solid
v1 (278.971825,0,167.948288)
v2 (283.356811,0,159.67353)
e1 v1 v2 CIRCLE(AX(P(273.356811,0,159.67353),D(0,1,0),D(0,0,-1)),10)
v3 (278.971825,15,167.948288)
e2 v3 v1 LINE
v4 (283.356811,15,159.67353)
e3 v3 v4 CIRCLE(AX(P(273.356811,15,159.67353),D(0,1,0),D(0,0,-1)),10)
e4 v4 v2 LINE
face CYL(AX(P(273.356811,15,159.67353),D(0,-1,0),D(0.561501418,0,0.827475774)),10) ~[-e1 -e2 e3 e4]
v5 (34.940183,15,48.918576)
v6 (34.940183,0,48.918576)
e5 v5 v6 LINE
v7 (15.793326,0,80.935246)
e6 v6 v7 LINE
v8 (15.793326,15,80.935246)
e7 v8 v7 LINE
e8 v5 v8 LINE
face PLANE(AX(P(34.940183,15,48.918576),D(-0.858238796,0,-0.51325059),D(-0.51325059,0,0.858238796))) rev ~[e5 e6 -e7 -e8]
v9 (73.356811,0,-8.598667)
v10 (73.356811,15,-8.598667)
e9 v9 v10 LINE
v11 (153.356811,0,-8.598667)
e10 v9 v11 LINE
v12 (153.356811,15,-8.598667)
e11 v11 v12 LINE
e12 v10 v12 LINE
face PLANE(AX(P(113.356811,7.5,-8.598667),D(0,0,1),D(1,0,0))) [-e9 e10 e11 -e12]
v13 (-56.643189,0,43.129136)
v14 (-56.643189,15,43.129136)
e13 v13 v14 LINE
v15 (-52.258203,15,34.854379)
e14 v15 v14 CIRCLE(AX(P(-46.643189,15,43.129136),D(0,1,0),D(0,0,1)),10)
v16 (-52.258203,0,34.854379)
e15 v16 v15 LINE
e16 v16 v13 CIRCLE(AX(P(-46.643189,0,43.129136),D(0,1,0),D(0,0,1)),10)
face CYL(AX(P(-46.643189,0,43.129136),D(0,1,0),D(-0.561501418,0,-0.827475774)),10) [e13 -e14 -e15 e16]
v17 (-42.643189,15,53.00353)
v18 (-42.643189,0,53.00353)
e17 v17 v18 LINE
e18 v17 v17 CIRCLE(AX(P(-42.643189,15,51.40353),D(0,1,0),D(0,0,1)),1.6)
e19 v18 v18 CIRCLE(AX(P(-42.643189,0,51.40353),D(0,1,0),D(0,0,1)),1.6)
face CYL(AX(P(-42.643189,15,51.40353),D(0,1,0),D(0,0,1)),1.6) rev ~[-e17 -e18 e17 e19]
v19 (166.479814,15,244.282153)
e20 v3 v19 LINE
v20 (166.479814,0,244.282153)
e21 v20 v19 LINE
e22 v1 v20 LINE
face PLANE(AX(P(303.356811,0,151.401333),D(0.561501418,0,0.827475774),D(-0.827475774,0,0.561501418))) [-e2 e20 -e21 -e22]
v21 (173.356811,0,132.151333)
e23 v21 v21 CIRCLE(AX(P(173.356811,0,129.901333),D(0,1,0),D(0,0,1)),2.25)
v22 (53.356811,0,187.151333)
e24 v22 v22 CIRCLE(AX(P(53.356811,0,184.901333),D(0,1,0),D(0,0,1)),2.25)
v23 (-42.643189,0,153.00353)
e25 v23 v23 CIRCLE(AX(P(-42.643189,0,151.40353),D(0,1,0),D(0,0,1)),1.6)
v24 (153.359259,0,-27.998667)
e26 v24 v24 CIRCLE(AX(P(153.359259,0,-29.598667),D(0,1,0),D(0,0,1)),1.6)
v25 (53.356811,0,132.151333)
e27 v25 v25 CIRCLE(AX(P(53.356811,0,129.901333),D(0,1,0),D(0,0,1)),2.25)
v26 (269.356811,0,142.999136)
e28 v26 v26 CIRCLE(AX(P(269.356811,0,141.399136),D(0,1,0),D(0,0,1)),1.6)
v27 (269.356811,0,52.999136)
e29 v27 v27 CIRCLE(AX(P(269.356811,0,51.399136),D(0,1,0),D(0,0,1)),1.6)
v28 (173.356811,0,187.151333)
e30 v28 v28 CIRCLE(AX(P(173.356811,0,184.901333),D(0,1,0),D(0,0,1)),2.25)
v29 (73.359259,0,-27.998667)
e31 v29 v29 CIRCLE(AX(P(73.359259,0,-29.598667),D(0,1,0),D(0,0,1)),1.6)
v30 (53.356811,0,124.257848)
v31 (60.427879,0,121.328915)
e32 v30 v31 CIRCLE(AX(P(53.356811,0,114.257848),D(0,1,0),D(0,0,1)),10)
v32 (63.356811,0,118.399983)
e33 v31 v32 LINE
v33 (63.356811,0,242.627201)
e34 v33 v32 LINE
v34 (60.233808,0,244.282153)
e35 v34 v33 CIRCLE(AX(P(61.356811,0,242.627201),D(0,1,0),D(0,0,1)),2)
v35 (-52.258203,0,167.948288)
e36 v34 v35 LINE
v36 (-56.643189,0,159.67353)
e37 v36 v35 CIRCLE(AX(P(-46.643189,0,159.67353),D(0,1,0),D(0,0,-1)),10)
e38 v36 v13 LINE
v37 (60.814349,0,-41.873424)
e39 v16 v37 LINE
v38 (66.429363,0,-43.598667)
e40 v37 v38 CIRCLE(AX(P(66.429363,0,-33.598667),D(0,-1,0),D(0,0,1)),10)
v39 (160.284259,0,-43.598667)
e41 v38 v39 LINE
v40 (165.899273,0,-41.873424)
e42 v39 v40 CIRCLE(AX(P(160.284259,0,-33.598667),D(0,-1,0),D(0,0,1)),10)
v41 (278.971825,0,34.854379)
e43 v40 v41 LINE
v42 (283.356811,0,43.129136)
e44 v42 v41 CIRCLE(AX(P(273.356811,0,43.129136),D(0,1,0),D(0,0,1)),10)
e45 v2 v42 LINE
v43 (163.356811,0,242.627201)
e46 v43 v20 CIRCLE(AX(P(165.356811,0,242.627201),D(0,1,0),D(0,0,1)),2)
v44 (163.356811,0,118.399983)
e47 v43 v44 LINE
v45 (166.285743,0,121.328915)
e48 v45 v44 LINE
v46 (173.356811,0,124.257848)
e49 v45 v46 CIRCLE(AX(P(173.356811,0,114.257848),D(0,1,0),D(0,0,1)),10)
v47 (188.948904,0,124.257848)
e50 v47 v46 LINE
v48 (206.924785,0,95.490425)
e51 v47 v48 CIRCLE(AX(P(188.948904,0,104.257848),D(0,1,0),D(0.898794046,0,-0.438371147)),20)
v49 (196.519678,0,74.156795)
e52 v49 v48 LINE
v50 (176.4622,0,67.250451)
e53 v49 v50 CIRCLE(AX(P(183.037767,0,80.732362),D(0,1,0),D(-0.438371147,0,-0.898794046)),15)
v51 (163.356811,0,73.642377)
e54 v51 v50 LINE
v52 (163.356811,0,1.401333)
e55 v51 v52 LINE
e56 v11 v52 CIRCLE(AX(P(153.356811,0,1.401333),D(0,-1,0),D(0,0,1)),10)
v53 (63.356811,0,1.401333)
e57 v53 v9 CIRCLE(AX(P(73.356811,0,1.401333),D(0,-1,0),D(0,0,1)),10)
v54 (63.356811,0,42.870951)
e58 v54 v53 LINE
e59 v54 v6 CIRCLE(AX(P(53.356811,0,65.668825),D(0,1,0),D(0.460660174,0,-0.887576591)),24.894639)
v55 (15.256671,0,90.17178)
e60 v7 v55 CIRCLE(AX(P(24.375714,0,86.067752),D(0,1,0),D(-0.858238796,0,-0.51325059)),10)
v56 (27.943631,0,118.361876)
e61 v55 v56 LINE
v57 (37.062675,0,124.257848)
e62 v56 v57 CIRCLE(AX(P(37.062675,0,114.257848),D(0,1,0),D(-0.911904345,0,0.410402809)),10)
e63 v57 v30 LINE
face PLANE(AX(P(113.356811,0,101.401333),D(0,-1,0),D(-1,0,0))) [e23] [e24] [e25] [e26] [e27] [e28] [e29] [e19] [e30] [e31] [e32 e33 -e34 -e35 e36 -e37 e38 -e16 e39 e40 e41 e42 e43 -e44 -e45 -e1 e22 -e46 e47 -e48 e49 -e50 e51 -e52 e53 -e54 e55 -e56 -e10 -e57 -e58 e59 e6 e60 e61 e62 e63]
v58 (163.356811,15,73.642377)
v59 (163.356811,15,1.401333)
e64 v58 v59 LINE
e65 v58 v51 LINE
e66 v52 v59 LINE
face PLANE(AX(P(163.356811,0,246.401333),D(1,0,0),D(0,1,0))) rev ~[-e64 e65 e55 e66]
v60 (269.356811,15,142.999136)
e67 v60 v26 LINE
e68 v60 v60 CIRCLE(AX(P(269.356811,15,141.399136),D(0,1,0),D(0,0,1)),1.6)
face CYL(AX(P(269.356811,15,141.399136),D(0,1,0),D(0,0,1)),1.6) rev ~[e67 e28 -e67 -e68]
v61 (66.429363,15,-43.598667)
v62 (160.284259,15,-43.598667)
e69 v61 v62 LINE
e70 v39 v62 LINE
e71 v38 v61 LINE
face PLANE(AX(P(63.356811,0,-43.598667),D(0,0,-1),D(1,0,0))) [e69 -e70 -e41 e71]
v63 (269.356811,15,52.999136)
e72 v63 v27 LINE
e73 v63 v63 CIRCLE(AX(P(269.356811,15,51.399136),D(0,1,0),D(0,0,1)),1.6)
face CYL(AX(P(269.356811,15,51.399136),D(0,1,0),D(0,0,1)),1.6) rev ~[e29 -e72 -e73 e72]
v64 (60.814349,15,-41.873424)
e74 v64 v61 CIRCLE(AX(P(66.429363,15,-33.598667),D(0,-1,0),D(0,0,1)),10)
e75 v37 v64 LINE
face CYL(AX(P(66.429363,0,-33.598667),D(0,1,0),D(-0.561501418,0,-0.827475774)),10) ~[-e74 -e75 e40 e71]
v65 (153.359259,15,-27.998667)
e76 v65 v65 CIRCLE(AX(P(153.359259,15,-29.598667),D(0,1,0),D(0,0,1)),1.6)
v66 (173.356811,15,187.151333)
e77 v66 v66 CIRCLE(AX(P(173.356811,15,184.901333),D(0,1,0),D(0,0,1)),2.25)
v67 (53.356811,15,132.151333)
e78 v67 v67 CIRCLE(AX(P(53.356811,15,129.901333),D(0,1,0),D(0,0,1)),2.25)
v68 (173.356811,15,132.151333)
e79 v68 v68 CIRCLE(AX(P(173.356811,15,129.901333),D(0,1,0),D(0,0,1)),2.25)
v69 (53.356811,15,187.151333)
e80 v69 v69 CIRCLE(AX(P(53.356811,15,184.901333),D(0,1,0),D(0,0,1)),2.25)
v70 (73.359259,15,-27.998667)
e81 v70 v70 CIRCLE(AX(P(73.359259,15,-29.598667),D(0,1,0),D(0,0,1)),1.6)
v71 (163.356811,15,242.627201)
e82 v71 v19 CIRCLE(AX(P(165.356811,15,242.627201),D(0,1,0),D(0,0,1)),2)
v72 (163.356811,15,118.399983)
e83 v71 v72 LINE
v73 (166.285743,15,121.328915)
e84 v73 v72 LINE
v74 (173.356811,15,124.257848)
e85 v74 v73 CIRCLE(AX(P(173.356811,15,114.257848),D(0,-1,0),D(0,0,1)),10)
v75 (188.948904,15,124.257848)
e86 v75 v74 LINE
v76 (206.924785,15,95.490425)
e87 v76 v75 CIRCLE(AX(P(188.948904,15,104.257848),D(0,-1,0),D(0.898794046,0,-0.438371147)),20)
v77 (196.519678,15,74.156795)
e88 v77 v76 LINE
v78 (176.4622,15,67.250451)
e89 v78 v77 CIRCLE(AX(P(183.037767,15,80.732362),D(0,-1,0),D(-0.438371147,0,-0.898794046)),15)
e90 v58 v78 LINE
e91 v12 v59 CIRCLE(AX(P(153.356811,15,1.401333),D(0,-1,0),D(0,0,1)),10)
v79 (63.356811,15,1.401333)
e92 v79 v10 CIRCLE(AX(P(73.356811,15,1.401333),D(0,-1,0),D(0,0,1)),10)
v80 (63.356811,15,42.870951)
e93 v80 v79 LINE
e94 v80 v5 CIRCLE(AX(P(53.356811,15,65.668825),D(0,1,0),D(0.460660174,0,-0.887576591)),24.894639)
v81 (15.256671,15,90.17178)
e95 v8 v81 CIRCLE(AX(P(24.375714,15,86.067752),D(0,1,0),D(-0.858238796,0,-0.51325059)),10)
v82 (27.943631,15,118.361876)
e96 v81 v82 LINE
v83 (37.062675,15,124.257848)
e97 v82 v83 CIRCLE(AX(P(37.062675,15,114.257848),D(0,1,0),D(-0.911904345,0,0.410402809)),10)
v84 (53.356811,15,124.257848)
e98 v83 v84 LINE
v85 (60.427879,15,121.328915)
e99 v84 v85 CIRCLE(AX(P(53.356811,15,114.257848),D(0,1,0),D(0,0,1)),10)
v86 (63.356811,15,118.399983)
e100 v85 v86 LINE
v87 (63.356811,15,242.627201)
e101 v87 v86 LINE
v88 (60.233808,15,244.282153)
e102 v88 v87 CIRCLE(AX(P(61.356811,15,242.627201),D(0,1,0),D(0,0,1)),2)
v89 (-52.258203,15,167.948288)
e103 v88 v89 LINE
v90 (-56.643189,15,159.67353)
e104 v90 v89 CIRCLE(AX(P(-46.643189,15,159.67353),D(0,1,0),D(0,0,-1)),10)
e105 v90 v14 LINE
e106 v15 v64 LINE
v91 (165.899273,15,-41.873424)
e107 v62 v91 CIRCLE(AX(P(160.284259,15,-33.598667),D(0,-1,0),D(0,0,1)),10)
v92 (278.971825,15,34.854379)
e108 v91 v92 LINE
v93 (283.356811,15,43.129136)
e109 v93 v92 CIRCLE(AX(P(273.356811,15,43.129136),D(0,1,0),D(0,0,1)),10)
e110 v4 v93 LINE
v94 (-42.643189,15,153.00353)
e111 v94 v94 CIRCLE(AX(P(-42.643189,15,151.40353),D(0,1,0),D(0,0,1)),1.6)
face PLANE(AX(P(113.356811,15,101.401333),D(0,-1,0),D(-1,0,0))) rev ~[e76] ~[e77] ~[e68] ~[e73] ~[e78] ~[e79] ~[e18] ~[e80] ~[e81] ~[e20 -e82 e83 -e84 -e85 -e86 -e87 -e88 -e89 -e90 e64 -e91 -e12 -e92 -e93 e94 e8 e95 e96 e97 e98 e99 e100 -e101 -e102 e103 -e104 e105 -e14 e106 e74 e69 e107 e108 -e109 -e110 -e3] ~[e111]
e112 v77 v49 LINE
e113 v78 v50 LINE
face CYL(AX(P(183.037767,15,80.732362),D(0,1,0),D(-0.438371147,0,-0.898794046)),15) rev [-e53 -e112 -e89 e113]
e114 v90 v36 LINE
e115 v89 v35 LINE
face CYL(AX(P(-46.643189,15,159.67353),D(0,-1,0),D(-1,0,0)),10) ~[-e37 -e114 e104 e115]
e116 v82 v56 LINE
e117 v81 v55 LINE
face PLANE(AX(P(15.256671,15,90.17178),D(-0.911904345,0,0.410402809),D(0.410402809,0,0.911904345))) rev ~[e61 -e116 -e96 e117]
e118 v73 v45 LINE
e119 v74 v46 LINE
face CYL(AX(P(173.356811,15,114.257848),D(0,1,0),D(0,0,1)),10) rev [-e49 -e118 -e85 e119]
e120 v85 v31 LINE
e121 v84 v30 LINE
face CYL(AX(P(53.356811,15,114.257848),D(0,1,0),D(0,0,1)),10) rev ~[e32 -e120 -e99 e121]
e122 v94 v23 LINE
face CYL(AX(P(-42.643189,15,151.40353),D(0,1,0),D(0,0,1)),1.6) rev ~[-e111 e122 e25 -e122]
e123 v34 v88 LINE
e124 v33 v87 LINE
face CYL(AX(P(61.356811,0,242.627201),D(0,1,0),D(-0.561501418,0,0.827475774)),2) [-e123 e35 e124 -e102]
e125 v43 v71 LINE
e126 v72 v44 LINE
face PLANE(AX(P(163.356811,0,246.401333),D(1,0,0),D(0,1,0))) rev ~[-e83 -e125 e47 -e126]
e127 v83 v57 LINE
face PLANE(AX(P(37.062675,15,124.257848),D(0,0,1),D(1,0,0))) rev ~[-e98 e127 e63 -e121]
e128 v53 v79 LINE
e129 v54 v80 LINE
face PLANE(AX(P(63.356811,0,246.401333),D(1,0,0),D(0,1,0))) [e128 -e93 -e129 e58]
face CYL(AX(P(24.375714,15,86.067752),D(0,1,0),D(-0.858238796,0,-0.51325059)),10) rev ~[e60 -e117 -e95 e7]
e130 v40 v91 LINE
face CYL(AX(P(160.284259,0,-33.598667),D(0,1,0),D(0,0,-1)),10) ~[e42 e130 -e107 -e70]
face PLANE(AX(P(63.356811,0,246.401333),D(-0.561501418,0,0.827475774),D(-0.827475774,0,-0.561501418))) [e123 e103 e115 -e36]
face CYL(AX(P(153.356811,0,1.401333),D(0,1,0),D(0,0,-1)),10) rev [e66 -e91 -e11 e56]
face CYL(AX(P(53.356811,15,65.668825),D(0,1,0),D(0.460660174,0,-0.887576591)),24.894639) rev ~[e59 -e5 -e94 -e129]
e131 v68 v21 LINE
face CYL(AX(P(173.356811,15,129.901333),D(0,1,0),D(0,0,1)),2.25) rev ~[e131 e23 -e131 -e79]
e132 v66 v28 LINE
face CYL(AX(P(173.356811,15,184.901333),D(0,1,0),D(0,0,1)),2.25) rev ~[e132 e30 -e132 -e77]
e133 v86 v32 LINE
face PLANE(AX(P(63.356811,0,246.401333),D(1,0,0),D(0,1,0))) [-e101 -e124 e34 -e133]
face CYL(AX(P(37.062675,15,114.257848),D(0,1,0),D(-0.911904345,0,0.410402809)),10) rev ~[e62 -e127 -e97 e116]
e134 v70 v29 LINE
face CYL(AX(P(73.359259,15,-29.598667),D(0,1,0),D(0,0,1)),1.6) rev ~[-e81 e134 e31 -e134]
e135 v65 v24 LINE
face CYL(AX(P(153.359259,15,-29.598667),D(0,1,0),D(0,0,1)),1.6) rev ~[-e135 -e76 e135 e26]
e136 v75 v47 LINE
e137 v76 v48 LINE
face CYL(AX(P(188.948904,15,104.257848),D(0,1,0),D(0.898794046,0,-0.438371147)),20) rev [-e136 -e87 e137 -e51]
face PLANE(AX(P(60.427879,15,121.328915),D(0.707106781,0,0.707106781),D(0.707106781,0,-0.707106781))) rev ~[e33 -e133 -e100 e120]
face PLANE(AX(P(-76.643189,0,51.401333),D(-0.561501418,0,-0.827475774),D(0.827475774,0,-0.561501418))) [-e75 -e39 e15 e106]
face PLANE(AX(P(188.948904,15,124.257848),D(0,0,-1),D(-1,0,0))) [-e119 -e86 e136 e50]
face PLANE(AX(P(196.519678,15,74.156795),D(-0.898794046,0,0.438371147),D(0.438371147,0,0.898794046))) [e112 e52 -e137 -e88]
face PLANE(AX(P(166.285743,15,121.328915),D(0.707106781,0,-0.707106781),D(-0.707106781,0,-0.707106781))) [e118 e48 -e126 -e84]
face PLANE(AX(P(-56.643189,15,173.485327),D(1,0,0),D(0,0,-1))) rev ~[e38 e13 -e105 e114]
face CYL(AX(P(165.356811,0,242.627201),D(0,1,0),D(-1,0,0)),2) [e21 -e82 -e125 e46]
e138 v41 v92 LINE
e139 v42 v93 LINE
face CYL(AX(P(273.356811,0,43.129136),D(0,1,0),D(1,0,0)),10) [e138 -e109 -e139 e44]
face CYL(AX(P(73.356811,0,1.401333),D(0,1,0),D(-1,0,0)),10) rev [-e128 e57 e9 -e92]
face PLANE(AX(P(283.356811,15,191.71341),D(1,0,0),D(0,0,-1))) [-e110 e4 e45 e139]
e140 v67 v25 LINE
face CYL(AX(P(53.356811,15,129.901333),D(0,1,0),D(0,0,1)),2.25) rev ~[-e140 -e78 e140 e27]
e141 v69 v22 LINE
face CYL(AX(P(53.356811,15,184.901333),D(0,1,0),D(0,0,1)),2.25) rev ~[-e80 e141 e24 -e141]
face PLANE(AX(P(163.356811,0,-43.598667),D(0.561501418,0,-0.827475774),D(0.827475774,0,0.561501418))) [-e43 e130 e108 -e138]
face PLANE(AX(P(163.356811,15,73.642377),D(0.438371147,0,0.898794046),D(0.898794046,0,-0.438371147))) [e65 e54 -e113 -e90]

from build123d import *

# Parameters (mm, degrees)
BOSS_EXTRU_1_DEPTH       = 15
ESQUISSE6_W              = 100
ESQUISSE6_H              = 15
ENL_V_MAT_EXTRU_1_DEPTH  = 255
ENL_V_MAT_EXTRU_10_REACH = 393.106
ESQUISSE11_R             = 2.25
ENL_V_MAT_EXTRU_11_REACH = 393.106
ESQUISSE8_R              = 2.25
CONG_10_R                = 10
CONG_11_R                = 2
ENL_V_MAT_EXTRU_12_REACH = 391.991
ENL_V_MAT_EXTRU_13_REACH = 391.991
ESQUISSE13_W             = 20
ESQUISSE13_H             = 143.033455182
ESQUISSE13_H_2           = 181.308681646
CONG_12_R                = 10
ENL_V_MAT_EXTRU_14_REACH = 376.645
ESQUISSE14_R             = 1.6


with BuildPart() as part:
    # Esquisse1 → Boss.-Extru.1 (new body)
    with BuildSketch(Plane(origin=(0, 0, 0), x_dir=(1, 0, 0), z_dir=(0, 1, 0))):
        Polygon((-76.643189126, -51.401333399), (63.356810874, 43.598666601), (163.356810874, 43.598666601), (303.356810874, -51.401333399), (303.356810874, -151.401333399), (163.356810874, -246.401333399), (63.356810874, -246.401333399), (-76.643189126, -151.401333399), align=None)
    extrude(amount=BOSS_EXTRU_1_DEPTH)

    # Esquisse6 → Enlèv. mat.-Extru.1 (cut)
    with BuildSketch(Plane.XY.offset(246.401333399)):
        with Locations((113.356810874, 7.5)):
            Rectangle(ESQUISSE6_W, ESQUISSE6_H)
    extrude(amount=-ENL_V_MAT_EXTRU_1_DEPTH, mode=Mode.SUBTRACT)

    # Esquisse11 → Enlèv. mat.-Extru.10 (cut, up to next)
    with BuildSketch(Plane(origin=(0, 15, 0), x_dir=(1, 0, 0), z_dir=(0, 1, 0)), mode=Mode.PRIVATE) as enl_v_mat_extru_10_sk1:
        with Locations(Location((53.356810874, -129.901333399, 0), (0, 0, 270))):
            Circle(ESQUISSE11_R)
    enl_v_mat_extru_10_tool1 = extrude(enl_v_mat_extru_10_sk1.sketch, amount=-ENL_V_MAT_EXTRU_10_REACH, mode=Mode.PRIVATE) & part.part
    # Esquisse11 → Enlèv. mat.-Extru.10 (cut, up to next)
    with BuildSketch(Plane(origin=(0, 15, 0), x_dir=(1, 0, 0), z_dir=(0, 1, 0)), mode=Mode.PRIVATE) as enl_v_mat_extru_10_sk2:
        with Locations(Location((53.356810874, -184.901333399, 0), (0, 0, 270))):
            Circle(ESQUISSE11_R)
    enl_v_mat_extru_10_tool2 = extrude(enl_v_mat_extru_10_sk2.sketch, amount=-ENL_V_MAT_EXTRU_10_REACH, mode=Mode.PRIVATE) & part.part
    # Esquisse11 → Enlèv. mat.-Extru.10 (cut, up to next)
    with BuildSketch(Plane(origin=(0, 15, 0), x_dir=(1, 0, 0), z_dir=(0, 1, 0)), mode=Mode.PRIVATE) as enl_v_mat_extru_10_sk3:
        with Locations(Location((173.356810874, -129.901333399, 0), (0, 0, 270))):
            Circle(ESQUISSE11_R)
    enl_v_mat_extru_10_tool3 = extrude(enl_v_mat_extru_10_sk3.sketch, amount=-ENL_V_MAT_EXTRU_10_REACH, mode=Mode.PRIVATE) & part.part
    # Esquisse11 → Enlèv. mat.-Extru.10 (cut, up to next)
    with BuildSketch(Plane(origin=(0, 15, 0), x_dir=(1, 0, 0), z_dir=(0, 1, 0)), mode=Mode.PRIVATE) as enl_v_mat_extru_10_sk4:
        with Locations(Location((173.356810874, -184.901333399, 0), (0, 0, 270))):
            Circle(ESQUISSE11_R)
    enl_v_mat_extru_10_tool4 = extrude(enl_v_mat_extru_10_sk4.sketch, amount=-ENL_V_MAT_EXTRU_10_REACH, mode=Mode.PRIVATE) & part.part
    add(enl_v_mat_extru_10_tool1.solids().sort_by_distance((53.356811, 15, 129.901333))[0], mode=Mode.SUBTRACT)
    add(enl_v_mat_extru_10_tool2.solids().sort_by_distance((53.356811, 15, 184.901333))[0], mode=Mode.SUBTRACT)
    add(enl_v_mat_extru_10_tool3.solids().sort_by_distance((173.356811, 15, 129.901333))[0], mode=Mode.SUBTRACT)
    add(enl_v_mat_extru_10_tool4.solids().sort_by_distance((173.356811, 15, 184.901333))[0], mode=Mode.SUBTRACT)

    # Esquisse8 → Enlèv. mat.-Extru.11 (cut, up to next)
    with BuildSketch(Plane(origin=(0, 15, 0), x_dir=(1, 0, 0), z_dir=(0, 1, 0)), mode=Mode.PRIVATE) as enl_v_mat_extru_11_sk1:
        with Locations(Location((180.356810874, -120.901333399, 0), (0, 0, 270))):
            Circle(ESQUISSE8_R)
    enl_v_mat_extru_11_tool1 = extrude(enl_v_mat_extru_11_sk1.sketch, amount=-ENL_V_MAT_EXTRU_11_REACH, mode=Mode.PRIVATE) & part.part
    # Esquisse8 → Enlèv. mat.-Extru.11 (cut, up to next)
    with BuildSketch(Plane(origin=(0, 15, 0), x_dir=(1, 0, 0), z_dir=(0, 1, 0)), mode=Mode.PRIVATE) as enl_v_mat_extru_11_sk2:
        with Locations(Location((180.356810874, -81.901333399, 0), (0, 0, 270))):
            Circle(ESQUISSE8_R)
    enl_v_mat_extru_11_tool2 = extrude(enl_v_mat_extru_11_sk2.sketch, amount=-ENL_V_MAT_EXTRU_11_REACH, mode=Mode.PRIVATE) & part.part
    # Esquisse8 → Enlèv. mat.-Extru.11 (cut, up to next)
    with BuildSketch(Plane(origin=(0, 15, 0), x_dir=(1, 0, 0), z_dir=(0, 1, 0)), mode=Mode.PRIVATE) as enl_v_mat_extru_11_sk3:
        with Locations(Location((46.356810874, -120.901333399, 0), (0, 0, 270))):
            Circle(ESQUISSE8_R)
    enl_v_mat_extru_11_tool3 = extrude(enl_v_mat_extru_11_sk3.sketch, amount=-ENL_V_MAT_EXTRU_11_REACH, mode=Mode.PRIVATE) & part.part
    # Esquisse8 → Enlèv. mat.-Extru.11 (cut, up to next)
    with BuildSketch(Plane(origin=(0, 15, 0), x_dir=(1, 0, 0), z_dir=(0, 1, 0)), mode=Mode.PRIVATE) as enl_v_mat_extru_11_sk4:
        with Locations(Location((46.356810874, -81.901333399, 0), (0, 0, 270))):
            Circle(ESQUISSE8_R)
    enl_v_mat_extru_11_tool4 = extrude(enl_v_mat_extru_11_sk4.sketch, amount=-ENL_V_MAT_EXTRU_11_REACH, mode=Mode.PRIVATE) & part.part
    add(enl_v_mat_extru_11_tool1.solids().sort_by_distance((180.356811, 15, 120.901333))[0], mode=Mode.SUBTRACT)
    add(enl_v_mat_extru_11_tool2.solids().sort_by_distance((180.356811, 15, 81.901333))[0], mode=Mode.SUBTRACT)
    add(enl_v_mat_extru_11_tool3.solids().sort_by_distance((46.356811, 15, 120.901333))[0], mode=Mode.SUBTRACT)
    add(enl_v_mat_extru_11_tool4.solids().sort_by_distance((46.356811, 15, 81.901333))[0], mode=Mode.SUBTRACT)

    # Congé10
    cong_10_edges = [part.edges().sort_by_distance(p)[0] for p in [
        (-76.643189126, 7.5, 51.401333399),
        (63.356810874, 7.5, -43.598666601),
        (163.356810874, 7.5, -43.598666601),
        (303.356810874, 7.5, 51.401333399),
        (303.356810874, 7.5, 151.401333399),
        (-76.643189126, 7.5, 151.401333399),
        (63.356810874, 7.5, -8.598666601),
        (163.356810874, 7.5, -8.598666601),
    ]]
    fillet(cong_10_edges, radius=CONG_10_R)

    # Congé11
    cong_11_edges = [part.edges().sort_by_distance(p)[0] for p in [
        (163.356810874, 7.5, 246.401333399),
        (63.356810874, 7.5, 246.401333399),
    ]]
    fillet(cong_11_edges, radius=CONG_11_R)

    # Esquisse12 → Enlèv. mat.-Extru.12 (cut, up to next)
    with BuildSketch(Plane(origin=(0, 15, 0), x_dir=(1, 0, 0), z_dir=(0, 1, 0)), mode=Mode.PRIVATE) as enl_v_mat_extru_12_sk1:
        with BuildLine():
            Line((34.940182765, -48.918575783), (15.793326272, -80.935246354))
            ThreePointArc((15.793326272, -80.935246354), (14.39255048, -85.48771654), (15.256670784, -90.171780344))
            Line((15.256670784, -90.171780344), (27.943631129, -118.361875593))
            ThreePointArc((27.943631129, -118.361875593), (31.633138728, -122.655474578), (37.06267458, -124.257847507))
            Line((37.06267458, -124.257847507), (53.356810874, -124.257847507))
            ThreePointArc((53.356810874, -124.257847507), (57.183645198, -123.496642832), (60.427878686, -121.328915318))
            Line((60.427878686, -121.328915318), (63.356810874, -118.39998313))
            Line((63.356810874, -118.39998313), (63.356810874, -59.592280682))
            Line((63.356810874, -59.592280682), (64.824779414, -43.572926285))
            ThreePointArc((64.824779414, -43.572926285), (48.973323725, -41.163150472), (34.940182765, -48.918575783))
        make_face()
    enl_v_mat_extru_12_tool1 = extrude(enl_v_mat_extru_12_sk1.sketch, amount=-ENL_V_MAT_EXTRU_12_REACH, mode=Mode.PRIVATE) & part.part
    # Esquisse12 → Enlèv. mat.-Extru.12 (cut, up to next)
    with BuildSketch(Plane(origin=(0, 15, 0), x_dir=(1, 0, 0), z_dir=(0, 1, 0)), mode=Mode.PRIVATE) as enl_v_mat_extru_12_sk2:
        with BuildLine():
            Line((166.285743062, -121.328915318), (163.356810874, -118.39998313))
            Line((163.356810874, -118.39998313), (163.356810874, -73.642376596))
            Line((163.356810874, -73.642376596), (176.462200108, -67.250451181))
            ThreePointArc((176.462200108, -67.250451181), (187.921289626, -66.549583242), (196.519678004, -74.156794674))
            Line((196.519678004, -74.156794674), (206.924784537, -95.490424571))
            ThreePointArc((206.924784537, -95.490424571), (205.909865534, -114.856232791), (188.948903611, -124.257847507))
            Line((188.948903611, -124.257847507), (173.356810874, -124.257847507))
            ThreePointArc((173.356810874, -124.257847507), (169.529976551, -123.496642832), (166.285743062, -121.328915318))
        make_face()
    enl_v_mat_extru_12_tool2 = extrude(enl_v_mat_extru_12_sk2.sketch, amount=-ENL_V_MAT_EXTRU_12_REACH, mode=Mode.PRIVATE) & part.part
    add(enl_v_mat_extru_12_tool1.solids().sort_by_distance((43.224361, 15, 84.406415))[0], mode=Mode.SUBTRACT)
    add(enl_v_mat_extru_12_tool2.solids().sort_by_distance((183.873626, 15, 97.045657))[0], mode=Mode.SUBTRACT)

    # Esquisse13 → Enlèv. mat.-Extru.13 (cut, up to next)
    with BuildSketch(Plane(origin=(0, 15, 0), x_dir=(1, 0, 0), z_dir=(0, 1, 0)), mode=Mode.PRIVATE) as enl_v_mat_extru_13_sk1:
        with Locations((-66.643189126, -101.968599131)):
            Rectangle(ESQUISSE13_W, ESQUISSE13_H)
    enl_v_mat_extru_13_tool1 = extrude(enl_v_mat_extru_13_sk1.sketch, amount=-ENL_V_MAT_EXTRU_13_REACH, mode=Mode.PRIVATE) & part.part
    # Esquisse13 → Enlèv. mat.-Extru.13 (cut, up to next)
    with BuildSketch(Plane(origin=(0, 15, 0), x_dir=(1, 0, 0), z_dir=(0, 1, 0)), mode=Mode.PRIVATE) as enl_v_mat_extru_13_sk2:
        with Locations((293.356810874, -101.059068944)):
            Rectangle(ESQUISSE13_W, ESQUISSE13_H_2)
    enl_v_mat_extru_13_tool2 = extrude(enl_v_mat_extru_13_sk2.sketch, amount=-ENL_V_MAT_EXTRU_13_REACH, mode=Mode.PRIVATE) & part.part
    add(enl_v_mat_extru_13_tool1.solids().sort_by_distance((-66.643189, 15, 101.968599))[0], mode=Mode.SUBTRACT)
    add(enl_v_mat_extru_13_tool2.solids().sort_by_distance((293.356811, 15, 101.059069))[0], mode=Mode.SUBTRACT)

    # Congé12
    cong_12_edges = [part.edges().sort_by_distance(p)[0] for p in [
        (-56.643189126, 7.5, 37.829904828),
        (-56.643189126, 7.5, 164.97276197),
        (283.356810874, 7.5, 37.829904828),
        (283.356810874, 7.5, 164.97276197),
    ]]
    fillet(cong_12_edges, radius=CONG_12_R)

    # Esquisse14 → Enlèv. mat.-Extru.14 (cut, up to next)
    with BuildSketch(Plane(origin=(0, 15, 0), x_dir=(1, 0, 0), z_dir=(0, 1, 0)), mode=Mode.PRIVATE) as enl_v_mat_extru_14_sk1:
        with Locations(Location((-42.643189126, -51.403530316, 0), (0, 0, 270))):
            Circle(ESQUISSE14_R)
    enl_v_mat_extru_14_tool1 = extrude(enl_v_mat_extru_14_sk1.sketch, amount=-ENL_V_MAT_EXTRU_14_REACH, mode=Mode.PRIVATE) & part.part
    # Esquisse14 → Enlèv. mat.-Extru.14 (cut, up to next)
    with BuildSketch(Plane(origin=(0, 15, 0), x_dir=(1, 0, 0), z_dir=(0, 1, 0)), mode=Mode.PRIVATE) as enl_v_mat_extru_14_sk2:
        with Locations(Location((-42.643189126, -151.403530316, 0), (0, 0, 270))):
            Circle(ESQUISSE14_R)
    enl_v_mat_extru_14_tool2 = extrude(enl_v_mat_extru_14_sk2.sketch, amount=-ENL_V_MAT_EXTRU_14_REACH, mode=Mode.PRIVATE) & part.part
    # Esquisse14 → Enlèv. mat.-Extru.14 (cut, up to next)
    with BuildSketch(Plane(origin=(0, 15, 0), x_dir=(1, 0, 0), z_dir=(0, 1, 0)), mode=Mode.PRIVATE) as enl_v_mat_extru_14_sk3:
        with Locations(Location((73.359258963, 29.598666601, 0), (0, 0, 270))):
            Circle(ESQUISSE14_R)
    enl_v_mat_extru_14_tool3 = extrude(enl_v_mat_extru_14_sk3.sketch, amount=-ENL_V_MAT_EXTRU_14_REACH, mode=Mode.PRIVATE) & part.part
    # Esquisse14 → Enlèv. mat.-Extru.14 (cut, up to next)
    with BuildSketch(Plane(origin=(0, 15, 0), x_dir=(1, 0, 0), z_dir=(0, 1, 0)), mode=Mode.PRIVATE) as enl_v_mat_extru_14_sk4:
        with Locations(Location((153.359258963, 29.598666601, 0), (0, 0, 270))):
            Circle(ESQUISSE14_R)
    enl_v_mat_extru_14_tool4 = extrude(enl_v_mat_extru_14_sk4.sketch, amount=-ENL_V_MAT_EXTRU_14_REACH, mode=Mode.PRIVATE) & part.part
    # Esquisse14 → Enlèv. mat.-Extru.14 (cut, up to next)
    with BuildSketch(Plane(origin=(0, 15, 0), x_dir=(1, 0, 0), z_dir=(0, 1, 0)), mode=Mode.PRIVATE) as enl_v_mat_extru_14_sk5:
        with Locations(Location((269.356810874, -51.399136482, 0), (0, 0, 270))):
            Circle(ESQUISSE14_R)
    enl_v_mat_extru_14_tool5 = extrude(enl_v_mat_extru_14_sk5.sketch, amount=-ENL_V_MAT_EXTRU_14_REACH, mode=Mode.PRIVATE) & part.part
    # Esquisse14 → Enlèv. mat.-Extru.14 (cut, up to next)
    with BuildSketch(Plane(origin=(0, 15, 0), x_dir=(1, 0, 0), z_dir=(0, 1, 0)), mode=Mode.PRIVATE) as enl_v_mat_extru_14_sk6:
        with Locations(Location((269.356810874, -141.399136482, 0), (0, 0, 270))):
            Circle(ESQUISSE14_R)
    enl_v_mat_extru_14_tool6 = extrude(enl_v_mat_extru_14_sk6.sketch, amount=-ENL_V_MAT_EXTRU_14_REACH, mode=Mode.PRIVATE) & part.part
    add(enl_v_mat_extru_14_tool1.solids().sort_by_distance((-42.643189, 15, 51.40353))[0], mode=Mode.SUBTRACT)
    add(enl_v_mat_extru_14_tool2.solids().sort_by_distance((-42.643189, 15, 151.40353))[0], mode=Mode.SUBTRACT)
    add(enl_v_mat_extru_14_tool3.solids().sort_by_distance((73.359259, 15, -29.598667))[0], mode=Mode.SUBTRACT)
    add(enl_v_mat_extru_14_tool4.solids().sort_by_distance((153.359259, 15, -29.598667))[0], mode=Mode.SUBTRACT)
    add(enl_v_mat_extru_14_tool5.solids().sort_by_distance((269.356811, 15, 51.399136))[0], mode=Mode.SUBTRACT)
    add(enl_v_mat_extru_14_tool6.solids().sort_by_distance((269.356811, 15, 141.399136))[0], mode=Mode.SUBTRACT)


solid = part.part
